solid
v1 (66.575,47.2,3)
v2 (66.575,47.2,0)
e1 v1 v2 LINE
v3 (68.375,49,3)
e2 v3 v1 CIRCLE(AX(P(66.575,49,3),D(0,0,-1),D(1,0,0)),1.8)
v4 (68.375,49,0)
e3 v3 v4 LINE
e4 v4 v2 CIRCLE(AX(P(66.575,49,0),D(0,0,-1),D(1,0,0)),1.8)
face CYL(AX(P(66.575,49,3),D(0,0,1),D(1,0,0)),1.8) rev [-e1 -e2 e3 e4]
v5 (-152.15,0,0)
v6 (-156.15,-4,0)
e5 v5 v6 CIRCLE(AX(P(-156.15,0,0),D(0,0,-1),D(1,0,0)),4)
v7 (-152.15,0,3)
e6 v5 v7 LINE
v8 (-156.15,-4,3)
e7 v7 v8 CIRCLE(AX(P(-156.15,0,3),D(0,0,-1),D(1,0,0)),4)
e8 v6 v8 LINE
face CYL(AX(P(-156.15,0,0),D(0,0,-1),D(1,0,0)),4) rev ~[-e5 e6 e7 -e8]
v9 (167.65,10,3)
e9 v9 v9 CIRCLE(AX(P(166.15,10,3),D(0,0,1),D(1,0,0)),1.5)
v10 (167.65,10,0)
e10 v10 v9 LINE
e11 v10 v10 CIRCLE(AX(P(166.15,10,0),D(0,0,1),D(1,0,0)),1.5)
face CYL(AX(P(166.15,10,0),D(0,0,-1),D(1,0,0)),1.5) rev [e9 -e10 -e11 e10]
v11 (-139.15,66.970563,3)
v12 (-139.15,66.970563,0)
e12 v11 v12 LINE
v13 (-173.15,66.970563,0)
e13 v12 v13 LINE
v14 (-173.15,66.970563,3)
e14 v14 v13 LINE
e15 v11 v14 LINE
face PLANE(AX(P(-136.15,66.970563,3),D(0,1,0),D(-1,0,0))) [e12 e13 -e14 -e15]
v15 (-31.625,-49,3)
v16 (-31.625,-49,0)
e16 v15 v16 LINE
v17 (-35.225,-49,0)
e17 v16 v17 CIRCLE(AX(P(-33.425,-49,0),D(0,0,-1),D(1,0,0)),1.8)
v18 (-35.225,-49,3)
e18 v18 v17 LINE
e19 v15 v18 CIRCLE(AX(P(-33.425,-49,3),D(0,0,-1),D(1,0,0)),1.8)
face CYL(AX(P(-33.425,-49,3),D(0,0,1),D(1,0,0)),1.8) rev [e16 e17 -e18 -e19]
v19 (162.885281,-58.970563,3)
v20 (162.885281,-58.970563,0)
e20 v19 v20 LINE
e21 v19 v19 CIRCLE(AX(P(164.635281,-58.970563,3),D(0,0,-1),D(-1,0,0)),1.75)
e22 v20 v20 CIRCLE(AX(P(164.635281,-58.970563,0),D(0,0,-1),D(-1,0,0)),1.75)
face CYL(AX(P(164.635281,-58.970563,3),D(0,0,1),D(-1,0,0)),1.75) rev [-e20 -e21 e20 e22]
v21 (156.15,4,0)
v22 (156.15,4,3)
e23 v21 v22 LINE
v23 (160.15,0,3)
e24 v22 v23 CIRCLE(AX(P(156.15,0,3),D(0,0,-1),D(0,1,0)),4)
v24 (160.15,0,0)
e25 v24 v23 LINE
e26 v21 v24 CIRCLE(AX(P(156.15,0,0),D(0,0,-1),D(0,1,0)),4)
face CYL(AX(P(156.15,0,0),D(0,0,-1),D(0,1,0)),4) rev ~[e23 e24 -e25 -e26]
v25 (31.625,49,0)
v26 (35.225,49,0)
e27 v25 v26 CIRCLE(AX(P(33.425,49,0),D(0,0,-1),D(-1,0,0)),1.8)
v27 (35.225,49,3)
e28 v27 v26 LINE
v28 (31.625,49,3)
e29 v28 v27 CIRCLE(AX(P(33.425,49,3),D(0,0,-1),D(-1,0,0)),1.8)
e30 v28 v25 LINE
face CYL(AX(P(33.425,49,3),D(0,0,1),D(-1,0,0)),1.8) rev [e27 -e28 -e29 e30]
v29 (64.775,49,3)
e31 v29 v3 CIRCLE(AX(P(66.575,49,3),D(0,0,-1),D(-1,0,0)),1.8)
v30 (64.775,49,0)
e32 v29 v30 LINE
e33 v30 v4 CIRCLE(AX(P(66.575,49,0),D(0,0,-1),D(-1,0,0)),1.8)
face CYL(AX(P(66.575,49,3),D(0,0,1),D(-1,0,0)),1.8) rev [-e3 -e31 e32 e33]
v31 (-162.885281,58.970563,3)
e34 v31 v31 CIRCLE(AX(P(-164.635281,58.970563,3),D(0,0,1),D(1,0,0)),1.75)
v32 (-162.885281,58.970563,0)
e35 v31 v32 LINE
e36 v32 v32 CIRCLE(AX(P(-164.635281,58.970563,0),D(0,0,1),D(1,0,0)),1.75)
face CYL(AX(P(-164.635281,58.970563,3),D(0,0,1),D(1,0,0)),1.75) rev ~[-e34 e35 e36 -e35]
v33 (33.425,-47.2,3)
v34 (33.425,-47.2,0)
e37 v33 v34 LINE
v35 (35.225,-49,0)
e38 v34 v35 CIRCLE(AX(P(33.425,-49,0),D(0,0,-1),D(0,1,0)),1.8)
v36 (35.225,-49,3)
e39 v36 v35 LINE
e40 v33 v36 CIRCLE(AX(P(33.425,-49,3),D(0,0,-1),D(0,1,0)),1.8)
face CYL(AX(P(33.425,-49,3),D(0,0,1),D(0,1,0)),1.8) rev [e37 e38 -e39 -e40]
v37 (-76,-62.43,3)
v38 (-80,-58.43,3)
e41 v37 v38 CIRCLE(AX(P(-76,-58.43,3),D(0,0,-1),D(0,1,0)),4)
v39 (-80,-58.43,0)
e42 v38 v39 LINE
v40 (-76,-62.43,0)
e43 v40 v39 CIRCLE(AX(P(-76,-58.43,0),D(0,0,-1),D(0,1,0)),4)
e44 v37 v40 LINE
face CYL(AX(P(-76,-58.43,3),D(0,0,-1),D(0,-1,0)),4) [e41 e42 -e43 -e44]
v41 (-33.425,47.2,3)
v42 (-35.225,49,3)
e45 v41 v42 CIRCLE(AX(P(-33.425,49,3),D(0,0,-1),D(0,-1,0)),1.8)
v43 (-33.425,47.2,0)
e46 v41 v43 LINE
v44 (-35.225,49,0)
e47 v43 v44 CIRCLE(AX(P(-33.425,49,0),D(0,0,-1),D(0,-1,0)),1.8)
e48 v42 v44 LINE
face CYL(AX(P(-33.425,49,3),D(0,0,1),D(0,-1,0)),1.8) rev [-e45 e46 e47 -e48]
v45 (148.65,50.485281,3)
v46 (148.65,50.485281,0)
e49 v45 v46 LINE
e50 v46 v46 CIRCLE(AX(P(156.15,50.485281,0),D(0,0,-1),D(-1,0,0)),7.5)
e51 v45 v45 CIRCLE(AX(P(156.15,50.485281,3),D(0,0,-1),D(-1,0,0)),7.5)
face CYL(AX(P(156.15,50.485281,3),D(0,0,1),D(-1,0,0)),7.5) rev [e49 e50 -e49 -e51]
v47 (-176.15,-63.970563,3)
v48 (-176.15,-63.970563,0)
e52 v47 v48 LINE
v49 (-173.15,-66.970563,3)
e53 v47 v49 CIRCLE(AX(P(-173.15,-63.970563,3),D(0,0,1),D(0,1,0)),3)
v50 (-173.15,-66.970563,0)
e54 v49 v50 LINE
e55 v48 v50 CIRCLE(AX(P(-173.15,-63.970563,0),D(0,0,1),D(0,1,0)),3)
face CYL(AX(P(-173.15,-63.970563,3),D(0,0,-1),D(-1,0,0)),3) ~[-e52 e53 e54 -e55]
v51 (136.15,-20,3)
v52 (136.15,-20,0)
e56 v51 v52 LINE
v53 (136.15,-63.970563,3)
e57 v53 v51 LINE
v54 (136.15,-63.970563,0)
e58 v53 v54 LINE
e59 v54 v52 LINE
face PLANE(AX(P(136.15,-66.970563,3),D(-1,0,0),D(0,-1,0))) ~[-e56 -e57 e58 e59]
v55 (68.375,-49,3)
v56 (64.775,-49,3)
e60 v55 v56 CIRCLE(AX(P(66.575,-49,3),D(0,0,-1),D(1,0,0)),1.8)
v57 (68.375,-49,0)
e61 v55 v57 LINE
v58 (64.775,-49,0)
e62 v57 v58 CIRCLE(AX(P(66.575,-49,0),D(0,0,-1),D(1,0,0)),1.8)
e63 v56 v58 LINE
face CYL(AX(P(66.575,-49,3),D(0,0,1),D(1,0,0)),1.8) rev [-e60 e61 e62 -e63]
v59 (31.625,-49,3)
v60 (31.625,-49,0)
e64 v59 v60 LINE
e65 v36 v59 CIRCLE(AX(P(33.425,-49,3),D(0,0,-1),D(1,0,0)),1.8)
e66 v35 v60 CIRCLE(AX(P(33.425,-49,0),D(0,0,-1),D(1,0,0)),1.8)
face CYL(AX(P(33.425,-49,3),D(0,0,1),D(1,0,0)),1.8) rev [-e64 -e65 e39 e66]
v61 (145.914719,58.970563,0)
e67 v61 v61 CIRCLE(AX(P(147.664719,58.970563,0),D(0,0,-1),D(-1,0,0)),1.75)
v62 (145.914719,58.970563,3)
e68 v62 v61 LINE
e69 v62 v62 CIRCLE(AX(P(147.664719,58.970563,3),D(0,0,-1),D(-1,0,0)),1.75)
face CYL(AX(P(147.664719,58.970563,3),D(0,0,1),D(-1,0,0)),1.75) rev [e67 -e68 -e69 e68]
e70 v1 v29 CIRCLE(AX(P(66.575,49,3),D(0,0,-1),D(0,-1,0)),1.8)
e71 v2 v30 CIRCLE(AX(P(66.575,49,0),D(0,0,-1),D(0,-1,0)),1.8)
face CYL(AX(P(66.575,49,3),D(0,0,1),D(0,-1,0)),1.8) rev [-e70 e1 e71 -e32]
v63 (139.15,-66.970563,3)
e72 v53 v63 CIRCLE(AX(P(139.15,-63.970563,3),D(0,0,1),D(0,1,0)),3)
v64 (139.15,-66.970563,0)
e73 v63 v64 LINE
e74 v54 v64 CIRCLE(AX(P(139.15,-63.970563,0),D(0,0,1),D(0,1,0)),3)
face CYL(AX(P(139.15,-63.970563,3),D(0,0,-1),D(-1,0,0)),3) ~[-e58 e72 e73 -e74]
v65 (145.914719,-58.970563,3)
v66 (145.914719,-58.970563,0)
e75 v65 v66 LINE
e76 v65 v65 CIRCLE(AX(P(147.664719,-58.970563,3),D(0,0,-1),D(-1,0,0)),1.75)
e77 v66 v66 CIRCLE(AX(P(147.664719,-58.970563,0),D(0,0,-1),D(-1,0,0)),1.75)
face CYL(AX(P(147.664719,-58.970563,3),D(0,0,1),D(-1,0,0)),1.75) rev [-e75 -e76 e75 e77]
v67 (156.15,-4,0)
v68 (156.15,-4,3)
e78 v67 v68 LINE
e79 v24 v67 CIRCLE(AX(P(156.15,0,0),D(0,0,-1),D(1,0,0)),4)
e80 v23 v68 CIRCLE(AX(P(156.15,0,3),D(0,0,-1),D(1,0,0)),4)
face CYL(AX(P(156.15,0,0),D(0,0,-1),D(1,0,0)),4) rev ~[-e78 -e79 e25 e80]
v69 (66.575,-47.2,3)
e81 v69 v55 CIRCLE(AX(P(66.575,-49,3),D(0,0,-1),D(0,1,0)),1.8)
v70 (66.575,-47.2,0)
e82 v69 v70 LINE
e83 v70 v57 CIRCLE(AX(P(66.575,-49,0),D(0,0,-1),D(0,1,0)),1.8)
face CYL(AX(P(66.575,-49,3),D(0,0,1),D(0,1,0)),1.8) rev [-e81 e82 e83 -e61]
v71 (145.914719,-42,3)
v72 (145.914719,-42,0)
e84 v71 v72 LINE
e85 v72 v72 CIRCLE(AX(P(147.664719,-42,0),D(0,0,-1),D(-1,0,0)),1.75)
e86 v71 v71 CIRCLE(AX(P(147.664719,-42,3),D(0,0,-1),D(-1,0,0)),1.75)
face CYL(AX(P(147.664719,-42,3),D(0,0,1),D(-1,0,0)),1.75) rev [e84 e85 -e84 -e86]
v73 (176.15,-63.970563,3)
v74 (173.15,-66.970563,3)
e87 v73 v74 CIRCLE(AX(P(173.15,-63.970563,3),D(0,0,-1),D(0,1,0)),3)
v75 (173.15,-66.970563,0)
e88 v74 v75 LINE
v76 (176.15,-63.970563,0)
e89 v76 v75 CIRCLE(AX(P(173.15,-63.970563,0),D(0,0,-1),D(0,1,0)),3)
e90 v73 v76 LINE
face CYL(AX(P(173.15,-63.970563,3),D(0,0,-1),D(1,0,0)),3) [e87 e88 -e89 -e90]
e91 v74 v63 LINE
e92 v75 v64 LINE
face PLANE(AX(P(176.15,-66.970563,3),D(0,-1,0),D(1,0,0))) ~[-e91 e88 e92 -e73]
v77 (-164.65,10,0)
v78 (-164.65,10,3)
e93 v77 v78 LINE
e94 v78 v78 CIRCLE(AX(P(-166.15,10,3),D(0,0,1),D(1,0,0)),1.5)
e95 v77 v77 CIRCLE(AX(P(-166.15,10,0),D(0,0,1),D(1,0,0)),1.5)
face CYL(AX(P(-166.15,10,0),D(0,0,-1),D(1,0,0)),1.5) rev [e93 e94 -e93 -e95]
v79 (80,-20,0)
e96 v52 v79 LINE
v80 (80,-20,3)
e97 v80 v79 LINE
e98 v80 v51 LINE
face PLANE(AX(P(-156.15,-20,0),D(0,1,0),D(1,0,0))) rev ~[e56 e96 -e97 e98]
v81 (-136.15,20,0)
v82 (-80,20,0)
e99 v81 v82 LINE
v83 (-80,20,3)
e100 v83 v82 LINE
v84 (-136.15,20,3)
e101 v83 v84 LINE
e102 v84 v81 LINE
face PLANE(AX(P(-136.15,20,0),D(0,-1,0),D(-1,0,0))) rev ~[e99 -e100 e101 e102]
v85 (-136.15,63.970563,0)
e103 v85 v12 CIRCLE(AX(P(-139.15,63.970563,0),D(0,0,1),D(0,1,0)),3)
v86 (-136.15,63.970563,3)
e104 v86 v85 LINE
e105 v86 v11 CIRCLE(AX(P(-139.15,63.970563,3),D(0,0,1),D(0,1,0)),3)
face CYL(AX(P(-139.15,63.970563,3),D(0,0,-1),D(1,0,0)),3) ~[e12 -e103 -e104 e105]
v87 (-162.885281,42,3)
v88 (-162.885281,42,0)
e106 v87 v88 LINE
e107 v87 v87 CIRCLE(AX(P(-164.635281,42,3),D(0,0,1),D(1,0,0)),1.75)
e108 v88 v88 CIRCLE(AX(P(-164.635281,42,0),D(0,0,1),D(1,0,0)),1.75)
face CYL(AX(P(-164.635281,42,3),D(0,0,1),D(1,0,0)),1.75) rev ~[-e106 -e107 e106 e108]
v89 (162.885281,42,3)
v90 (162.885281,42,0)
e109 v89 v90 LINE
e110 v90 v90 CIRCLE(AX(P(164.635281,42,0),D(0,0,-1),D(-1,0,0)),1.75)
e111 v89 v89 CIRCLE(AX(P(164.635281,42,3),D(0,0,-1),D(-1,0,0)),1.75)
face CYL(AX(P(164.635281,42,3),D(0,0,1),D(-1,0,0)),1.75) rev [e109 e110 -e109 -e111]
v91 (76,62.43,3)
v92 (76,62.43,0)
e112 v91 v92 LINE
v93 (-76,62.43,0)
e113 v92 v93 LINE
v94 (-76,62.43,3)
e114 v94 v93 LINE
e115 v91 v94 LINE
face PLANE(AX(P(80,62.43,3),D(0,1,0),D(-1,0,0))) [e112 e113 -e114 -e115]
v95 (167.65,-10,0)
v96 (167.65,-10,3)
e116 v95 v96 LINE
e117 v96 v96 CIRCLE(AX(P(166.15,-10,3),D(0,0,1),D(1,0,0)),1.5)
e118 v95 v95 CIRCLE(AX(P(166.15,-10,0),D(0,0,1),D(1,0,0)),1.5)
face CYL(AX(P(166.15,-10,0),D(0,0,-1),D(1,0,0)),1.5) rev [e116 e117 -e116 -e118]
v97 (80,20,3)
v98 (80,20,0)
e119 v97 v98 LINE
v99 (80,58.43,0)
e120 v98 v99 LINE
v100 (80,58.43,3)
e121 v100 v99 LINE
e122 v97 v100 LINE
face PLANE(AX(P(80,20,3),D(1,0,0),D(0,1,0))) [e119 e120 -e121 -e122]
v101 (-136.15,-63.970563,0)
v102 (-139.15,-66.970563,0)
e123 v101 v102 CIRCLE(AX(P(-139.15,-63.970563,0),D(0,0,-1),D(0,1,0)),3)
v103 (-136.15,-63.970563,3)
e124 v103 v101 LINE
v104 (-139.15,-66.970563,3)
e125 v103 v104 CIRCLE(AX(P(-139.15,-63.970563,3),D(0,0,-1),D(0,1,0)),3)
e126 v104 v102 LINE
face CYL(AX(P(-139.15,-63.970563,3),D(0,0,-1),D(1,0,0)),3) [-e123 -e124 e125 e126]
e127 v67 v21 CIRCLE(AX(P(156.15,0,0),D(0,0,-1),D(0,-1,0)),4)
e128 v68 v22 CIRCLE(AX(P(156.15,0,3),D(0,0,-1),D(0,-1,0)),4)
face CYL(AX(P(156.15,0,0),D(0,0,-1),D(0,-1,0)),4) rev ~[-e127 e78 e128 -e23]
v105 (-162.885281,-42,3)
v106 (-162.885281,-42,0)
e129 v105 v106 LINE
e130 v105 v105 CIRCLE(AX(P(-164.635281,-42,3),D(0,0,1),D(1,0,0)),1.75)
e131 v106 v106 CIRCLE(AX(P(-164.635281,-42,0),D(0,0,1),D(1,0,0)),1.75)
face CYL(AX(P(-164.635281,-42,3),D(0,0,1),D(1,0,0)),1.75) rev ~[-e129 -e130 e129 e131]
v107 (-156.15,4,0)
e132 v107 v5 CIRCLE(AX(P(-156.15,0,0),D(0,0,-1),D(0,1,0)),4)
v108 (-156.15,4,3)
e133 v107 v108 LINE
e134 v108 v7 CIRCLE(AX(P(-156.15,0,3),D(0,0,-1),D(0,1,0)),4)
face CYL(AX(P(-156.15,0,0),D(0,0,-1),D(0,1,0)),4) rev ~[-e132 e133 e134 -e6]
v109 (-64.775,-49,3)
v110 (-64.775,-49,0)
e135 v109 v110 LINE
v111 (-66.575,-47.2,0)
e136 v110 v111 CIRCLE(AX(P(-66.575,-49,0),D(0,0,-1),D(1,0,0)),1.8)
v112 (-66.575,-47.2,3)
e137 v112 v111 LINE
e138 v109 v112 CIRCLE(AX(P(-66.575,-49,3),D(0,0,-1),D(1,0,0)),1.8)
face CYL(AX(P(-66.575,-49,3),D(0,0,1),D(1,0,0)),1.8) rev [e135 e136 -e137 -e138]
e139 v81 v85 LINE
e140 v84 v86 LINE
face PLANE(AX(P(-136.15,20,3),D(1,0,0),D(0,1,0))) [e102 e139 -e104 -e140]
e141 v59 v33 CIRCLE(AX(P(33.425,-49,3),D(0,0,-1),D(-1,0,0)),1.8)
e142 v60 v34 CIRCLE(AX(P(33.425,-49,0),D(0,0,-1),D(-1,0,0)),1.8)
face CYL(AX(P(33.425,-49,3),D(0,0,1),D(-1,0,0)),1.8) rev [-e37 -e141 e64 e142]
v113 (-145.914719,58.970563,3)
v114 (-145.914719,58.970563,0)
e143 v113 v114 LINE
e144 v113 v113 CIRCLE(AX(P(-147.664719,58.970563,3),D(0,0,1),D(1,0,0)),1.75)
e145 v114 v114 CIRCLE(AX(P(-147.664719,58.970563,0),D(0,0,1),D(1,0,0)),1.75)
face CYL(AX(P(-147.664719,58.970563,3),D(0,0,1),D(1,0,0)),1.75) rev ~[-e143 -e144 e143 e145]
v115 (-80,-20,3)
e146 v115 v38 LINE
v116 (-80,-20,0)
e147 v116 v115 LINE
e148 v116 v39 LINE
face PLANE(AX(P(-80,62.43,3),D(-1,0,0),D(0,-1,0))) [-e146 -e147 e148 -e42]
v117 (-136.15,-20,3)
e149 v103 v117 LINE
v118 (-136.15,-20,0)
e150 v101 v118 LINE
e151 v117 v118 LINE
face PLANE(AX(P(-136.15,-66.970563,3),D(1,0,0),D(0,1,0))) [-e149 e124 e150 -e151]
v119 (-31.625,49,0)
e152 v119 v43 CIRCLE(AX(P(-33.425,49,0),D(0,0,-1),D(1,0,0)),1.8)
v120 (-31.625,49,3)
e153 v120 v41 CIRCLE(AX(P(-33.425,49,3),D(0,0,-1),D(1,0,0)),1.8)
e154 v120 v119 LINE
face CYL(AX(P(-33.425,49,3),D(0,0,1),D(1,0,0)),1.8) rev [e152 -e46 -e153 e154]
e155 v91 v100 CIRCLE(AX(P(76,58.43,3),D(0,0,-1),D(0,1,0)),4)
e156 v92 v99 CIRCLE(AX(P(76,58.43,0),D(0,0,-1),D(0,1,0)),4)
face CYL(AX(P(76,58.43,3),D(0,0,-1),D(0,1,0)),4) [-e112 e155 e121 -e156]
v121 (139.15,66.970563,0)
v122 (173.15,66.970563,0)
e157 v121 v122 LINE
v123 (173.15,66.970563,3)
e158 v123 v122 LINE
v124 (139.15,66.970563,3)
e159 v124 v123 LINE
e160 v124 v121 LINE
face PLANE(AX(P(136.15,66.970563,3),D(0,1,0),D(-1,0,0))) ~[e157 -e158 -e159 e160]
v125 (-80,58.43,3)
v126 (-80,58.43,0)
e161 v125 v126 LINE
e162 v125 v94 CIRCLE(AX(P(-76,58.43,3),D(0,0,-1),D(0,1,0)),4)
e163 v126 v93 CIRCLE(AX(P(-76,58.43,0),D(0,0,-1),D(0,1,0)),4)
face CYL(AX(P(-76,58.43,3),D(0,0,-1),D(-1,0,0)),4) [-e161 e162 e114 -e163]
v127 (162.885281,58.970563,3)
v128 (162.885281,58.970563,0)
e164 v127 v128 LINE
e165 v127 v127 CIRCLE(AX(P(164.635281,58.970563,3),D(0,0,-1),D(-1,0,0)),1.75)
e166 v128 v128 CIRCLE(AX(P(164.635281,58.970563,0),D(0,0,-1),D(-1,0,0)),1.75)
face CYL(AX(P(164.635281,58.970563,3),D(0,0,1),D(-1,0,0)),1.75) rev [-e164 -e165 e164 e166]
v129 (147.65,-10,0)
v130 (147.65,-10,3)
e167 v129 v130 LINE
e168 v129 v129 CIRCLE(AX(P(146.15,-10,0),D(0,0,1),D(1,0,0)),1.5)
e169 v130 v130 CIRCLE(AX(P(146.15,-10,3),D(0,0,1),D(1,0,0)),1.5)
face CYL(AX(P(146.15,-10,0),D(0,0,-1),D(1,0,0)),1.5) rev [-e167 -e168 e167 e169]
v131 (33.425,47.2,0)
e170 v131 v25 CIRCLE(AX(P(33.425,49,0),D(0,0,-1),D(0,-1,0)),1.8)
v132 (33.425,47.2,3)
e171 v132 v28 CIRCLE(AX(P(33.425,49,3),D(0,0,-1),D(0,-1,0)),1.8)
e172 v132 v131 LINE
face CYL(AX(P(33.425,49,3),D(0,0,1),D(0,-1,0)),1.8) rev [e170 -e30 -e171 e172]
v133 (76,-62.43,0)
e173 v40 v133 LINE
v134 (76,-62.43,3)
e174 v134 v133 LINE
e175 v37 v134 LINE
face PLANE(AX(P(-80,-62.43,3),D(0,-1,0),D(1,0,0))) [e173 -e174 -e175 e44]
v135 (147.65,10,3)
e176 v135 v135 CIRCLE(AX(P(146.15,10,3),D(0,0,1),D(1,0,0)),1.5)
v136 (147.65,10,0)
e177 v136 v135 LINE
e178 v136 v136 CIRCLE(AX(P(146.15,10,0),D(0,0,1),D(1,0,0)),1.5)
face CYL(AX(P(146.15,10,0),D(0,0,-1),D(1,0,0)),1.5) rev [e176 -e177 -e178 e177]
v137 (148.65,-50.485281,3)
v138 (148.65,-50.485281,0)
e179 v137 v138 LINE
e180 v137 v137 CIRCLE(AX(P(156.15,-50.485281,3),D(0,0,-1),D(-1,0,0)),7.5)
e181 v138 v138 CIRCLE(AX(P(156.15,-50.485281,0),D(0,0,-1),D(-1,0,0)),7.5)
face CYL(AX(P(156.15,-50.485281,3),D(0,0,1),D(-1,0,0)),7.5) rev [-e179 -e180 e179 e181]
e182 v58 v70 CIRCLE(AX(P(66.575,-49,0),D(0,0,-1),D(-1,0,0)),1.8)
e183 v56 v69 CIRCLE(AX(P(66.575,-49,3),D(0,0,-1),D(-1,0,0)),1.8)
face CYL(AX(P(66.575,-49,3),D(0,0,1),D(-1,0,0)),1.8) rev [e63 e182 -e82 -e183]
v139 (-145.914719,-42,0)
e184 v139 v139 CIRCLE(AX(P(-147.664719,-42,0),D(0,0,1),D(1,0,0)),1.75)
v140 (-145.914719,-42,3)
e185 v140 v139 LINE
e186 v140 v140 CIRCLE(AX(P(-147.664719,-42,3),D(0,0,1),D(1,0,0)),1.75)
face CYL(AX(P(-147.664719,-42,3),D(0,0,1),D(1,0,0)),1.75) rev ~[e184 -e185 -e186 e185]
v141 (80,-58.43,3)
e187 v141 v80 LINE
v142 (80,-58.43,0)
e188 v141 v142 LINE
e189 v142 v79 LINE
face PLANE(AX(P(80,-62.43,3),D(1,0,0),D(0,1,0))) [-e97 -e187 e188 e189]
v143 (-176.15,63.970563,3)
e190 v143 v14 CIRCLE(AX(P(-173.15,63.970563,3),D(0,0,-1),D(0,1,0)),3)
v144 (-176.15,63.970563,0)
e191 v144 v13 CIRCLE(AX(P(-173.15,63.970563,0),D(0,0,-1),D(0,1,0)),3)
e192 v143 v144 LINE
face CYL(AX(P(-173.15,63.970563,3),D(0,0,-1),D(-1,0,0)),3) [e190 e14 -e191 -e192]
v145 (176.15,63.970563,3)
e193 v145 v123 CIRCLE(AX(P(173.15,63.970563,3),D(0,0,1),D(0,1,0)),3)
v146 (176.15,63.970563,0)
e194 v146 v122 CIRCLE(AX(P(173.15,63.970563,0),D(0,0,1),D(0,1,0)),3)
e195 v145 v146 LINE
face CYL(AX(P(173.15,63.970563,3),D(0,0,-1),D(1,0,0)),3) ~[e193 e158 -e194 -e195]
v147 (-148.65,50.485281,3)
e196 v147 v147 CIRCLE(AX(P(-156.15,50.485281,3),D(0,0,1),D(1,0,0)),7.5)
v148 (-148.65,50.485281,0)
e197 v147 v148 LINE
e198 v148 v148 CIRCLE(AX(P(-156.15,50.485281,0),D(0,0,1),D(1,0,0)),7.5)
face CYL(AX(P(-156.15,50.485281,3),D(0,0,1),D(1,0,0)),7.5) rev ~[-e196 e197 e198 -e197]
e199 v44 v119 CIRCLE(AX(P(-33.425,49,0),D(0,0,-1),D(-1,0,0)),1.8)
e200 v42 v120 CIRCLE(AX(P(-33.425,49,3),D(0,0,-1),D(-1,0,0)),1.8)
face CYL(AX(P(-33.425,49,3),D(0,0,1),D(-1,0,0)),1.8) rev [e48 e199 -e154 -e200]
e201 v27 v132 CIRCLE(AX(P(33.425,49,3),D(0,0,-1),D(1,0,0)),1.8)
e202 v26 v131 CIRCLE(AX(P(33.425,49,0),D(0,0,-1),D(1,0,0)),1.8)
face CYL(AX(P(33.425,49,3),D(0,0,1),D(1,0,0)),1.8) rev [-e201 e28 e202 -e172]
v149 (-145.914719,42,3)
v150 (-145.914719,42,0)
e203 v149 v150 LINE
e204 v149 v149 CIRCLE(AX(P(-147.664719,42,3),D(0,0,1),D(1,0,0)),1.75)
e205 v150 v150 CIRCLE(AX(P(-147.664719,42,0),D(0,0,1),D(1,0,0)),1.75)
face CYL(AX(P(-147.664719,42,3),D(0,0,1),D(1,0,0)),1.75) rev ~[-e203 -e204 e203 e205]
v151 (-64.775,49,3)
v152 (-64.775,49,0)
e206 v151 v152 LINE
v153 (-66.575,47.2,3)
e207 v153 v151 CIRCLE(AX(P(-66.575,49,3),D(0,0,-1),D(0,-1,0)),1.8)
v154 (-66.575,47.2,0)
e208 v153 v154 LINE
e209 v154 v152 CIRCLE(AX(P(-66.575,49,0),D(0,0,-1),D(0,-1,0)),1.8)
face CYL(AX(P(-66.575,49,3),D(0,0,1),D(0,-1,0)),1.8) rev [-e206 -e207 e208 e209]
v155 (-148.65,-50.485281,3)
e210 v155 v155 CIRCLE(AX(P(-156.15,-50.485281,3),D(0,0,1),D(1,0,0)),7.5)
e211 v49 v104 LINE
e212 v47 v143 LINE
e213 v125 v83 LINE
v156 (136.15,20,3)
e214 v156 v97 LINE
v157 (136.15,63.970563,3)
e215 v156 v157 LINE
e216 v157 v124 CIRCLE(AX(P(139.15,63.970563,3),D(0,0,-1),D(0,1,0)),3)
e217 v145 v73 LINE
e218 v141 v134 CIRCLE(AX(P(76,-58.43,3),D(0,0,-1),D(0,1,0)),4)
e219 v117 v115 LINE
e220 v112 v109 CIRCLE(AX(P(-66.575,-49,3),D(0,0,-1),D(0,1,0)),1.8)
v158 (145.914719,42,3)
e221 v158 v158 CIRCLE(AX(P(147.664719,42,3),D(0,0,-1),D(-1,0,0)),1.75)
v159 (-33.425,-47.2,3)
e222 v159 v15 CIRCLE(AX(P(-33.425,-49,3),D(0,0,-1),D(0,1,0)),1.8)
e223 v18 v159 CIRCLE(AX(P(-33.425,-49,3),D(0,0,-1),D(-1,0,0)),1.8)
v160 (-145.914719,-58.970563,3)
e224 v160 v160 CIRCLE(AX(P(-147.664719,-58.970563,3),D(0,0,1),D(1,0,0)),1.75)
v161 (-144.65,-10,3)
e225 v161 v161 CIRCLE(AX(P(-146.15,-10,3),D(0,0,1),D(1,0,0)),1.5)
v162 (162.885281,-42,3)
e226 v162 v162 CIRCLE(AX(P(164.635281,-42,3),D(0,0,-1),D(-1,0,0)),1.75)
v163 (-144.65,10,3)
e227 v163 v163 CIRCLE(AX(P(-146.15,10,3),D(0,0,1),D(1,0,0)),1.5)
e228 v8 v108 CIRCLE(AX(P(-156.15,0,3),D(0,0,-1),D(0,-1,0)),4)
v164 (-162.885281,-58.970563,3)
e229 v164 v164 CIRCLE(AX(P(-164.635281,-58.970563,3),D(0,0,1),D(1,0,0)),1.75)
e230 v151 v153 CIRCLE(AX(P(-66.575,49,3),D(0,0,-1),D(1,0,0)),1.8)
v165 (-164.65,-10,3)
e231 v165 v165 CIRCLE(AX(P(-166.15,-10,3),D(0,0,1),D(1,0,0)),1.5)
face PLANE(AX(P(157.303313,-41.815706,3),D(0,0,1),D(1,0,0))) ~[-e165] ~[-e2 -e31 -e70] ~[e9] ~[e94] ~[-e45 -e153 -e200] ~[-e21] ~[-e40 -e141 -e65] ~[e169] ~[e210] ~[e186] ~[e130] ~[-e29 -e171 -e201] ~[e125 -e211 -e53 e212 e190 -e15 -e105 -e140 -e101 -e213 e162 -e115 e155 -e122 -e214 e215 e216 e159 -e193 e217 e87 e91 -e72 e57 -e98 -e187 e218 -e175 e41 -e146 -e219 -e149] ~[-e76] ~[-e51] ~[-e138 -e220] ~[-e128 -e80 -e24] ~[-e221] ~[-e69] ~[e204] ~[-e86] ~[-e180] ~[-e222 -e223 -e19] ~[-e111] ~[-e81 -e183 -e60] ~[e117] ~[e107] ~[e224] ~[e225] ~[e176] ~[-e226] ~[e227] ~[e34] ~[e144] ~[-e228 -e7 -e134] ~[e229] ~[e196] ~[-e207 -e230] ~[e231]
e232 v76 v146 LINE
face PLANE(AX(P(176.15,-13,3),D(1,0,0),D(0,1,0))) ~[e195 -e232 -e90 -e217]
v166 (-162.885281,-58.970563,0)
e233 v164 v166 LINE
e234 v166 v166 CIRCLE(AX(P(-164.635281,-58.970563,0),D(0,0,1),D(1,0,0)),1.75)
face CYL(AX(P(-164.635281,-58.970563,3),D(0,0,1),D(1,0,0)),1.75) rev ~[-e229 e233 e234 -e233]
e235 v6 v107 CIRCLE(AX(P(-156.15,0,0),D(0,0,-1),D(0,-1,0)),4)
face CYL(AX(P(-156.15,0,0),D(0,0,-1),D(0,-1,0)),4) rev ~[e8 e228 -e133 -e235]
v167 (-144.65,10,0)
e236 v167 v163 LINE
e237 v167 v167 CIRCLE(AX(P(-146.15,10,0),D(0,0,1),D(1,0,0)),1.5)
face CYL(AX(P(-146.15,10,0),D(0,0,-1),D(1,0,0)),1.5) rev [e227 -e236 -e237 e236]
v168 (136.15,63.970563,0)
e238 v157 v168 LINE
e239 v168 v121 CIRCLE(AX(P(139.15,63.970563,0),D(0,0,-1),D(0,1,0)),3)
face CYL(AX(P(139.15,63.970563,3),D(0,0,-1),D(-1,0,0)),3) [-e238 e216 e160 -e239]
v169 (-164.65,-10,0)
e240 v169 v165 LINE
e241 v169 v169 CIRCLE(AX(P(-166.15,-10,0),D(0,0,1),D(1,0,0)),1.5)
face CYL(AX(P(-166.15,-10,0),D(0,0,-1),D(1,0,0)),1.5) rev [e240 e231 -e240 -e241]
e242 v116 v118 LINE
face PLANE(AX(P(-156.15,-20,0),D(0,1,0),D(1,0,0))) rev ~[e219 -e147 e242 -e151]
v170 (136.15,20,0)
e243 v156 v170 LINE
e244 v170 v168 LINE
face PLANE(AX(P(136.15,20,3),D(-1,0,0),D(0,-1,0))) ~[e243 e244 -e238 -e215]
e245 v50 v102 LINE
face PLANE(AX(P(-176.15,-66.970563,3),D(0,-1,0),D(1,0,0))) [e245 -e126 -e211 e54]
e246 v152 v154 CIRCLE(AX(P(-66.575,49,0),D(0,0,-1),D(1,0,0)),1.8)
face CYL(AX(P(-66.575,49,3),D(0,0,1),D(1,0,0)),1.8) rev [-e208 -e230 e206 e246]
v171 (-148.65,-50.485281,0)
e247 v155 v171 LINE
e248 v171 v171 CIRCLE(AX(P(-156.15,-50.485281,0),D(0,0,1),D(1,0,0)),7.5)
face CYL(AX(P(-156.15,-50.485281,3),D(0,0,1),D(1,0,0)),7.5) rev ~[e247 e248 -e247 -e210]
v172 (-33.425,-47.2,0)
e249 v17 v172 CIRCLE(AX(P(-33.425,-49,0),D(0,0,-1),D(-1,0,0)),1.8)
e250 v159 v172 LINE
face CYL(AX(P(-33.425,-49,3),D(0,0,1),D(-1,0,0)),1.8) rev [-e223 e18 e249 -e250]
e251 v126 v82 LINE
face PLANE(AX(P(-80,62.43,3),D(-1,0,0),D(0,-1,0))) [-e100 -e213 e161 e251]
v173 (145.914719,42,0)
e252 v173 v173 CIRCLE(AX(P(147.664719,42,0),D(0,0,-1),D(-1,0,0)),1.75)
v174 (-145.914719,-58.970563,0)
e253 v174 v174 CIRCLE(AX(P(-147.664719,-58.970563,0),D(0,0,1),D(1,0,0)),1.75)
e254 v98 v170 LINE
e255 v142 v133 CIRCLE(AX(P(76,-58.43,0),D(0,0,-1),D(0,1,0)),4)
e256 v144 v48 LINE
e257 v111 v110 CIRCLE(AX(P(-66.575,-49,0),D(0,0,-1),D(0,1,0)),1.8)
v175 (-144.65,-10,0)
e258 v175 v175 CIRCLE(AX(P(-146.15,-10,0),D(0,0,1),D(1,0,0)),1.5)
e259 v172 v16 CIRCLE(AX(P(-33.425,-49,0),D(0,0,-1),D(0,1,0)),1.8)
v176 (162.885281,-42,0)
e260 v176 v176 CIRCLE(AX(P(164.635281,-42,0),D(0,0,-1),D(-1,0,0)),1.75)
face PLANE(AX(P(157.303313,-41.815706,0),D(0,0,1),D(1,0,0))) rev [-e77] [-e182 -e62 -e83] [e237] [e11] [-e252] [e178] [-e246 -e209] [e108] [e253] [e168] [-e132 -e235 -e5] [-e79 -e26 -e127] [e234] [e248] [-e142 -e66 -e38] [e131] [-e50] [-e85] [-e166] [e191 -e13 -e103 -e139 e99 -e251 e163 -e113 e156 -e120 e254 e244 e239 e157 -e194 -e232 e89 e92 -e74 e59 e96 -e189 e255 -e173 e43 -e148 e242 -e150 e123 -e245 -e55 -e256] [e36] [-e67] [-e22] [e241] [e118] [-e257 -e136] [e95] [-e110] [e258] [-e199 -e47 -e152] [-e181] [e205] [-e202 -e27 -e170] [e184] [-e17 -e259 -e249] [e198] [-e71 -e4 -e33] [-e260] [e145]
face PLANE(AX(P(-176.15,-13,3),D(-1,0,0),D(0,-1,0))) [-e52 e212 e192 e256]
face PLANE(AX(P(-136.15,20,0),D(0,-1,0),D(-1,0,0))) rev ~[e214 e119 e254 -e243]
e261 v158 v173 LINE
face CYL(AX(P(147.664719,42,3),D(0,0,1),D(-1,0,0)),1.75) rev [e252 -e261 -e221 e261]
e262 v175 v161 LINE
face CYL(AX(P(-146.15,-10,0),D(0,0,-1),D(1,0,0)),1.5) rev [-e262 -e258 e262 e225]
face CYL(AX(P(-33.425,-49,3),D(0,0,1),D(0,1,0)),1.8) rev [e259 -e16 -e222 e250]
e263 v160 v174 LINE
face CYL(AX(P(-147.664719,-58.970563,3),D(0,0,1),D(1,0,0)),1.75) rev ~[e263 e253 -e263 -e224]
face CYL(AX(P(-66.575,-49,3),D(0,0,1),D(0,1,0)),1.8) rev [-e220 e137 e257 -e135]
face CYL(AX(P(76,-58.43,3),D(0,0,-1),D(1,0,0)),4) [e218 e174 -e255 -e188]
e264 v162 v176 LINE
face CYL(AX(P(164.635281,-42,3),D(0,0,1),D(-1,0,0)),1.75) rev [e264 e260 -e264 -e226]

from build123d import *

# Parameters (mm, degrees)
SKETCH_1_R      = 1.5
SKETCH_1_W      = 272.3
SKETCH_1_H      = 40
EXTRUDE_1_DEPTH = 3
FILLET_1_R      = 7
SKETCH_2_W      = 13.425
SKETCH_2_H      = 40
SKETCH_2_W_2    = 33.15
SKETCH_2_W_3    = 66.85
EXTRUDE_2_DEPTH = 3
FILLET_2_R      = 4
SKETCH_3_R      = 1.75
SKETCH_3_R_2    = 7.5
EXTRUDE_3_DEPTH = 3
FILLET_3_R      = 3
FILLET_5_R      = 3


with BuildPart() as part:
    # 스케치1 → 보스-돌출1 (new body)
    # profile 1 of 5: a face of its own
    with BuildSketch(Plane.XY):
        with BuildLine():
            Line((156.15, -4), (156.15, -20))
            Line((156.15, -20), (176.15, -20))
            Line((176.15, -20), (176.15, 20))
            Line((176.15, 20), (156.15, 20))
            Line((156.15, 20), (156.15, 4))
            ThreePointArc((156.15, 4), (158.978427125, 2.828427125), (160.15, 0))
            ThreePointArc((160.15, 0), (158.978427125, -2.828427125), (156.15, -4))
        make_face()
        with Locations((166.15, -10)):
            Circle(SKETCH_1_R, mode=Mode.SUBTRACT)
        with Locations((166.15, 10)):
            Circle(SKETCH_1_R, mode=Mode.SUBTRACT)
    # profile 2 of 5: a face of its own
    with BuildSketch(Plane.XY):
        with BuildLine():
            Line((136.15, 20), (136.15, -20))
            Line((136.15, -20), (156.15, -20))
            Line((156.15, -20), (156.15, -4))
            ThreePointArc((156.15, -4), (152.15, 0), (156.15, 4))
            Line((156.15, 4), (156.15, 20))
            Line((156.15, 20), (136.15, 20))
        make_face()
        with Locations((146.15, -10)):
            Circle(SKETCH_1_R, mode=Mode.SUBTRACT)
        with Locations((146.15, 10)):
            Circle(SKETCH_1_R, mode=Mode.SUBTRACT)
    # profile 3 of 5: a face of its own
    with BuildSketch(Plane.XY):
        Rectangle(SKETCH_1_W, SKETCH_1_H)
    # profile 4 of 5: a face of its own
    with BuildSketch(Plane.XY):
        with BuildLine():
            Line((-176.15, -20), (-156.15, -20))
            Line((-156.15, -20), (-156.15, -4))
            ThreePointArc((-156.15, -4), (-160.15, 0), (-156.15, 4))
            Line((-156.15, 4), (-156.15, 20))
            Line((-156.15, 20), (-176.15, 20))
            Line((-176.15, 20), (-176.15, -20))
        make_face()
        with Locations((-166.15, -10)):
            Circle(SKETCH_1_R, mode=Mode.SUBTRACT)
        with Locations((-166.15, 10)):
            Circle(SKETCH_1_R, mode=Mode.SUBTRACT)
    # profile 5 of 5: a face of its own
    with BuildSketch(Plane.XY):
        with BuildLine():
            Line((-156.15, -4), (-156.15, -20))
            Line((-156.15, -20), (-136.15, -20))
            Line((-136.15, -20), (-136.15, 20))
            Line((-136.15, 20), (-156.15, 20))
            Line((-156.15, 20), (-156.15, 4))
            ThreePointArc((-156.15, 4), (-153.321572875, 2.828427125), (-152.15, 0))
            ThreePointArc((-152.15, 0), (-153.321572875, -2.828427125), (-156.15, -4))
        make_face()
        with Locations((-146.15, -10)):
            Circle(SKETCH_1_R, mode=Mode.SUBTRACT)
        with Locations((-146.15, 10)):
            Circle(SKETCH_1_R, mode=Mode.SUBTRACT)
    extrude(amount=EXTRUDE_1_DEPTH)

    # 필렛1
    fillet_1_edges = [part.edges().sort_by_distance(p)[0] for p in [
        (176.15, 20, 1.5),
        (176.15, -20, 1.5),
        (-176.15, -20, 1.5),
        (-176.15, 20, 1.5),
    ]]
    fillet(fillet_1_edges, radius=FILLET_1_R)

    # 스케치2 → 보스-돌출2 (add)
    with BuildSketch(Plane.XY.offset(3)):
        with BuildLine():
            Line((-80, 62.43), (-80, 20))
            Line((-80, 20), (-66.575, 20))
            Line((-66.575, 20), (-66.575, 47.2))
            ThreePointArc((-66.575, 47.2), (-67.847792206, 50.272792206), (-64.775, 49))
            Line((-64.775, 49), (-35.225, 49))
            ThreePointArc((-35.225, 49), (-33.425, 50.8), (-31.625, 49))
            Line((-31.625, 49), (31.625, 49))
            ThreePointArc((31.625, 49), (33.425, 50.8), (35.225, 49))
            Line((35.225, 49), (64.775, 49))
            ThreePointArc((64.775, 49), (66.575, 50.8), (68.375, 49))
            ThreePointArc((68.375, 49), (67.847792206, 47.727207794), (66.575, 47.2))
            Line((66.575, 47.2), (66.575, 20))
            Line((66.575, 20), (80, 20))
            Line((80, 20), (80, 62.43))
            Line((80, 62.43), (-80, 62.43))
        make_face()
        with Locations((-73.2875, 0)):
            Rectangle(SKETCH_2_W, SKETCH_2_H)
        with BuildLine():
            Line((-80, -20), (-80, -62.43))
            Line((-80, -62.43), (80, -62.43))
            Line((80, -62.43), (80, -20))
            Line((80, -20), (66.575, -20))
            Line((66.575, -20), (66.575, -47.2))
            ThreePointArc((66.575, -47.2), (67.847792206, -47.727207794), (68.375, -49))
            ThreePointArc((68.375, -49), (66.575, -50.8), (64.775, -49))
            Line((64.775, -49), (35.225, -49))
            ThreePointArc((35.225, -49), (33.425, -50.8), (31.625, -49))
            Line((31.625, -49), (-31.625, -49))
            ThreePointArc((-31.625, -49), (-33.425, -50.8), (-35.225, -49))
            Line((-35.225, -49), (-64.775, -49))
            ThreePointArc((-64.775, -49), (-67.847792206, -50.272792206), (-66.575, -47.2))
            Line((-66.575, -47.2), (-66.575, -20))
            Line((-66.575, -20), (-80, -20))
        make_face()
        with Locations((-50, 0)):
            Rectangle(SKETCH_2_W_2, SKETCH_2_H)
        with BuildLine():
            Line((-66.575, 47.2), (-66.575, 20))
            Line((-66.575, 20), (-33.425, 20))
            Line((-33.425, 20), (-33.425, 47.2))
            ThreePointArc((-33.425, 47.2), (-34.697792206, 47.727207794), (-35.225, 49))
            Line((-35.225, 49), (-64.775, 49))
            ThreePointArc((-64.775, 49), (-65.302207794, 47.727207794), (-66.575, 47.2))
        make_face()
        with BuildLine():
            Line((-33.425, 47.2), (-33.425, 20))
            Line((-33.425, 20), (33.425, 20))
            Line((33.425, 20), (33.425, 47.2))
            ThreePointArc((33.425, 47.2), (32.152207794, 47.727207794), (31.625, 49))
            Line((31.625, 49), (-31.625, 49))
            ThreePointArc((-31.625, 49), (-32.152207794, 47.727207794), (-33.425, 47.2))
        make_face()
        Rectangle(SKETCH_2_W_3, SKETCH_2_H)
        with Locations((50, 0)):
            Rectangle(SKETCH_2_W_2, SKETCH_2_H)
        with BuildLine():
            Line((33.425, 20), (66.575, 20))
            Line((66.575, 20), (66.575, 47.2))
            ThreePointArc((66.575, 47.2), (65.302207794, 47.727207794), (64.775, 49))
            Line((64.775, 49), (35.225, 49))
            ThreePointArc((35.225, 49), (34.697792206, 47.727207794), (33.425, 47.2))
            Line((33.425, 47.2), (33.425, 20))
        make_face()
        with BuildLine():
            Line((66.575, -47.2), (66.575, -20))
            Line((66.575, -20), (33.425, -20))
            Line((33.425, -20), (33.425, -47.2))
            ThreePointArc((33.425, -47.2), (34.697792206, -47.727207794), (35.225, -49))
            Line((35.225, -49), (64.775, -49))
            ThreePointArc((64.775, -49), (65.302207794, -47.727207794), (66.575, -47.2))
        make_face()
        with BuildLine():
            Line((-33.425, -20), (-66.575, -20))
            Line((-66.575, -20), (-66.575, -47.2))
            ThreePointArc((-66.575, -47.2), (-65.302207794, -47.727207794), (-64.775, -49))
            Line((-64.775, -49), (-35.225, -49))
            ThreePointArc((-35.225, -49), (-34.697792206, -47.727207794), (-33.425, -47.2))
            Line((-33.425, -47.2), (-33.425, -20))
        make_face()
        with BuildLine():
            Line((33.425, -20), (-33.425, -20))
            Line((-33.425, -20), (-33.425, -47.2))
            ThreePointArc((-33.425, -47.2), (-32.152207794, -47.727207794), (-31.625, -49))
            Line((-31.625, -49), (31.625, -49))
            ThreePointArc((31.625, -49), (32.152207794, -47.727207794), (33.425, -47.2))
            Line((33.425, -47.2), (33.425, -20))
        make_face()
    extrude(amount=-EXTRUDE_2_DEPTH)

    # 필렛2
    fillet_2_edges = [part.edges().sort_by_distance(p)[0] for p in [
        (80, -62.43, 1.5),
        (-80, -62.43, 1.5),
        (-80, 62.43, 1.5),
        (80, 62.43, 1.5),
    ]]
    fillet(fillet_2_edges, radius=FILLET_2_R)

    # 스케치3 → 보스-돌출3 (add)
    # profile 1 of 2: a face of its own
    with BuildSketch(Plane.XY.offset(3)):
        with BuildLine():
            Line((-176.15, -13), (-176.15, -66.970562748))
            Line((-176.15, -66.970562748), (-136.15, -66.970562748))
            Line((-136.15, -66.970562748), (-136.15, -20))
            Line((-136.15, -20), (-169.15, -20))
            ThreePointArc((-169.15, -20), (-174.099747468, -17.949747468), (-176.15, -13))
        make_face()
        with Locations((-164.635281374, -42)):
            Circle(SKETCH_3_R, mode=Mode.SUBTRACT)
        with Locations((-147.664718626, -42)):
            Circle(SKETCH_3_R, mode=Mode.SUBTRACT)
        with Locations((-147.664718626, -58.970562748)):
            Circle(SKETCH_3_R, mode=Mode.SUBTRACT)
        with Locations((-164.635281374, -58.970562748)):
            Circle(SKETCH_3_R, mode=Mode.SUBTRACT)
        with Locations((-156.15, -50.485281374)):
            Circle(SKETCH_3_R_2, mode=Mode.SUBTRACT)
    # profile 2 of 2: a face of its own
    with BuildSketch(Plane.XY.offset(3)):
        with BuildLine():
            Line((-176.15, 66.970562748), (-176.15, 13))
            ThreePointArc((-176.15, 13), (-174.099747468, 17.949747468), (-169.15, 20))
            Line((-169.15, 20), (-136.15, 20))
            Line((-136.15, 20), (-136.15, 66.970562748))
            Line((-136.15, 66.970562748), (-176.15, 66.970562748))
        make_face()
        with Locations((-164.635281374, 42)):
            Circle(SKETCH_3_R, mode=Mode.SUBTRACT)
        with Locations((-147.664718626, 42)):
            Circle(SKETCH_3_R, mode=Mode.SUBTRACT)
        with Locations((-156.15, 50.485281374)):
            Circle(SKETCH_3_R_2, mode=Mode.SUBTRACT)
        with Locations((-164.635281374, 58.970562748)):
            Circle(SKETCH_3_R, mode=Mode.SUBTRACT)
        with Locations((-147.664718626, 58.970562748)):
            Circle(SKETCH_3_R, mode=Mode.SUBTRACT)
    extrude_3 = extrude(amount=-EXTRUDE_3_DEPTH)

    # 필렛3
    fillet_3_edges = [part.edges().sort_by_distance(p)[0] for p in [
        (-176.15, 66.970562748, 1.5),
        (-136.15, 66.970562748, 1.5),
        (-136.15, -66.970562748, 1.5),
        (-176.15, -66.970562748, 1.5),
    ]]
    fillet(fillet_3_edges, radius=FILLET_3_R)

    # 대칭 복사1: 보스-돌출3 across plane
    add(extrude_3.mirror(Plane(origin=(0, 0, 0), x_dir=(0, 0, 1), z_dir=(1, 0, 0))))

    # 필렛5
    fillet_5_edges = [part.edges().sort_by_distance(p)[0] for p in [
        (136.15, 66.970562748, 1.5),
        (176.15, 66.970562748, 1.5),
        (176.15, -66.970562748, 1.5),
        (136.15, -66.970562748, 1.5),
    ]]
    fillet(fillet_5_edges, radius=FILLET_5_R)


solid = part.part
